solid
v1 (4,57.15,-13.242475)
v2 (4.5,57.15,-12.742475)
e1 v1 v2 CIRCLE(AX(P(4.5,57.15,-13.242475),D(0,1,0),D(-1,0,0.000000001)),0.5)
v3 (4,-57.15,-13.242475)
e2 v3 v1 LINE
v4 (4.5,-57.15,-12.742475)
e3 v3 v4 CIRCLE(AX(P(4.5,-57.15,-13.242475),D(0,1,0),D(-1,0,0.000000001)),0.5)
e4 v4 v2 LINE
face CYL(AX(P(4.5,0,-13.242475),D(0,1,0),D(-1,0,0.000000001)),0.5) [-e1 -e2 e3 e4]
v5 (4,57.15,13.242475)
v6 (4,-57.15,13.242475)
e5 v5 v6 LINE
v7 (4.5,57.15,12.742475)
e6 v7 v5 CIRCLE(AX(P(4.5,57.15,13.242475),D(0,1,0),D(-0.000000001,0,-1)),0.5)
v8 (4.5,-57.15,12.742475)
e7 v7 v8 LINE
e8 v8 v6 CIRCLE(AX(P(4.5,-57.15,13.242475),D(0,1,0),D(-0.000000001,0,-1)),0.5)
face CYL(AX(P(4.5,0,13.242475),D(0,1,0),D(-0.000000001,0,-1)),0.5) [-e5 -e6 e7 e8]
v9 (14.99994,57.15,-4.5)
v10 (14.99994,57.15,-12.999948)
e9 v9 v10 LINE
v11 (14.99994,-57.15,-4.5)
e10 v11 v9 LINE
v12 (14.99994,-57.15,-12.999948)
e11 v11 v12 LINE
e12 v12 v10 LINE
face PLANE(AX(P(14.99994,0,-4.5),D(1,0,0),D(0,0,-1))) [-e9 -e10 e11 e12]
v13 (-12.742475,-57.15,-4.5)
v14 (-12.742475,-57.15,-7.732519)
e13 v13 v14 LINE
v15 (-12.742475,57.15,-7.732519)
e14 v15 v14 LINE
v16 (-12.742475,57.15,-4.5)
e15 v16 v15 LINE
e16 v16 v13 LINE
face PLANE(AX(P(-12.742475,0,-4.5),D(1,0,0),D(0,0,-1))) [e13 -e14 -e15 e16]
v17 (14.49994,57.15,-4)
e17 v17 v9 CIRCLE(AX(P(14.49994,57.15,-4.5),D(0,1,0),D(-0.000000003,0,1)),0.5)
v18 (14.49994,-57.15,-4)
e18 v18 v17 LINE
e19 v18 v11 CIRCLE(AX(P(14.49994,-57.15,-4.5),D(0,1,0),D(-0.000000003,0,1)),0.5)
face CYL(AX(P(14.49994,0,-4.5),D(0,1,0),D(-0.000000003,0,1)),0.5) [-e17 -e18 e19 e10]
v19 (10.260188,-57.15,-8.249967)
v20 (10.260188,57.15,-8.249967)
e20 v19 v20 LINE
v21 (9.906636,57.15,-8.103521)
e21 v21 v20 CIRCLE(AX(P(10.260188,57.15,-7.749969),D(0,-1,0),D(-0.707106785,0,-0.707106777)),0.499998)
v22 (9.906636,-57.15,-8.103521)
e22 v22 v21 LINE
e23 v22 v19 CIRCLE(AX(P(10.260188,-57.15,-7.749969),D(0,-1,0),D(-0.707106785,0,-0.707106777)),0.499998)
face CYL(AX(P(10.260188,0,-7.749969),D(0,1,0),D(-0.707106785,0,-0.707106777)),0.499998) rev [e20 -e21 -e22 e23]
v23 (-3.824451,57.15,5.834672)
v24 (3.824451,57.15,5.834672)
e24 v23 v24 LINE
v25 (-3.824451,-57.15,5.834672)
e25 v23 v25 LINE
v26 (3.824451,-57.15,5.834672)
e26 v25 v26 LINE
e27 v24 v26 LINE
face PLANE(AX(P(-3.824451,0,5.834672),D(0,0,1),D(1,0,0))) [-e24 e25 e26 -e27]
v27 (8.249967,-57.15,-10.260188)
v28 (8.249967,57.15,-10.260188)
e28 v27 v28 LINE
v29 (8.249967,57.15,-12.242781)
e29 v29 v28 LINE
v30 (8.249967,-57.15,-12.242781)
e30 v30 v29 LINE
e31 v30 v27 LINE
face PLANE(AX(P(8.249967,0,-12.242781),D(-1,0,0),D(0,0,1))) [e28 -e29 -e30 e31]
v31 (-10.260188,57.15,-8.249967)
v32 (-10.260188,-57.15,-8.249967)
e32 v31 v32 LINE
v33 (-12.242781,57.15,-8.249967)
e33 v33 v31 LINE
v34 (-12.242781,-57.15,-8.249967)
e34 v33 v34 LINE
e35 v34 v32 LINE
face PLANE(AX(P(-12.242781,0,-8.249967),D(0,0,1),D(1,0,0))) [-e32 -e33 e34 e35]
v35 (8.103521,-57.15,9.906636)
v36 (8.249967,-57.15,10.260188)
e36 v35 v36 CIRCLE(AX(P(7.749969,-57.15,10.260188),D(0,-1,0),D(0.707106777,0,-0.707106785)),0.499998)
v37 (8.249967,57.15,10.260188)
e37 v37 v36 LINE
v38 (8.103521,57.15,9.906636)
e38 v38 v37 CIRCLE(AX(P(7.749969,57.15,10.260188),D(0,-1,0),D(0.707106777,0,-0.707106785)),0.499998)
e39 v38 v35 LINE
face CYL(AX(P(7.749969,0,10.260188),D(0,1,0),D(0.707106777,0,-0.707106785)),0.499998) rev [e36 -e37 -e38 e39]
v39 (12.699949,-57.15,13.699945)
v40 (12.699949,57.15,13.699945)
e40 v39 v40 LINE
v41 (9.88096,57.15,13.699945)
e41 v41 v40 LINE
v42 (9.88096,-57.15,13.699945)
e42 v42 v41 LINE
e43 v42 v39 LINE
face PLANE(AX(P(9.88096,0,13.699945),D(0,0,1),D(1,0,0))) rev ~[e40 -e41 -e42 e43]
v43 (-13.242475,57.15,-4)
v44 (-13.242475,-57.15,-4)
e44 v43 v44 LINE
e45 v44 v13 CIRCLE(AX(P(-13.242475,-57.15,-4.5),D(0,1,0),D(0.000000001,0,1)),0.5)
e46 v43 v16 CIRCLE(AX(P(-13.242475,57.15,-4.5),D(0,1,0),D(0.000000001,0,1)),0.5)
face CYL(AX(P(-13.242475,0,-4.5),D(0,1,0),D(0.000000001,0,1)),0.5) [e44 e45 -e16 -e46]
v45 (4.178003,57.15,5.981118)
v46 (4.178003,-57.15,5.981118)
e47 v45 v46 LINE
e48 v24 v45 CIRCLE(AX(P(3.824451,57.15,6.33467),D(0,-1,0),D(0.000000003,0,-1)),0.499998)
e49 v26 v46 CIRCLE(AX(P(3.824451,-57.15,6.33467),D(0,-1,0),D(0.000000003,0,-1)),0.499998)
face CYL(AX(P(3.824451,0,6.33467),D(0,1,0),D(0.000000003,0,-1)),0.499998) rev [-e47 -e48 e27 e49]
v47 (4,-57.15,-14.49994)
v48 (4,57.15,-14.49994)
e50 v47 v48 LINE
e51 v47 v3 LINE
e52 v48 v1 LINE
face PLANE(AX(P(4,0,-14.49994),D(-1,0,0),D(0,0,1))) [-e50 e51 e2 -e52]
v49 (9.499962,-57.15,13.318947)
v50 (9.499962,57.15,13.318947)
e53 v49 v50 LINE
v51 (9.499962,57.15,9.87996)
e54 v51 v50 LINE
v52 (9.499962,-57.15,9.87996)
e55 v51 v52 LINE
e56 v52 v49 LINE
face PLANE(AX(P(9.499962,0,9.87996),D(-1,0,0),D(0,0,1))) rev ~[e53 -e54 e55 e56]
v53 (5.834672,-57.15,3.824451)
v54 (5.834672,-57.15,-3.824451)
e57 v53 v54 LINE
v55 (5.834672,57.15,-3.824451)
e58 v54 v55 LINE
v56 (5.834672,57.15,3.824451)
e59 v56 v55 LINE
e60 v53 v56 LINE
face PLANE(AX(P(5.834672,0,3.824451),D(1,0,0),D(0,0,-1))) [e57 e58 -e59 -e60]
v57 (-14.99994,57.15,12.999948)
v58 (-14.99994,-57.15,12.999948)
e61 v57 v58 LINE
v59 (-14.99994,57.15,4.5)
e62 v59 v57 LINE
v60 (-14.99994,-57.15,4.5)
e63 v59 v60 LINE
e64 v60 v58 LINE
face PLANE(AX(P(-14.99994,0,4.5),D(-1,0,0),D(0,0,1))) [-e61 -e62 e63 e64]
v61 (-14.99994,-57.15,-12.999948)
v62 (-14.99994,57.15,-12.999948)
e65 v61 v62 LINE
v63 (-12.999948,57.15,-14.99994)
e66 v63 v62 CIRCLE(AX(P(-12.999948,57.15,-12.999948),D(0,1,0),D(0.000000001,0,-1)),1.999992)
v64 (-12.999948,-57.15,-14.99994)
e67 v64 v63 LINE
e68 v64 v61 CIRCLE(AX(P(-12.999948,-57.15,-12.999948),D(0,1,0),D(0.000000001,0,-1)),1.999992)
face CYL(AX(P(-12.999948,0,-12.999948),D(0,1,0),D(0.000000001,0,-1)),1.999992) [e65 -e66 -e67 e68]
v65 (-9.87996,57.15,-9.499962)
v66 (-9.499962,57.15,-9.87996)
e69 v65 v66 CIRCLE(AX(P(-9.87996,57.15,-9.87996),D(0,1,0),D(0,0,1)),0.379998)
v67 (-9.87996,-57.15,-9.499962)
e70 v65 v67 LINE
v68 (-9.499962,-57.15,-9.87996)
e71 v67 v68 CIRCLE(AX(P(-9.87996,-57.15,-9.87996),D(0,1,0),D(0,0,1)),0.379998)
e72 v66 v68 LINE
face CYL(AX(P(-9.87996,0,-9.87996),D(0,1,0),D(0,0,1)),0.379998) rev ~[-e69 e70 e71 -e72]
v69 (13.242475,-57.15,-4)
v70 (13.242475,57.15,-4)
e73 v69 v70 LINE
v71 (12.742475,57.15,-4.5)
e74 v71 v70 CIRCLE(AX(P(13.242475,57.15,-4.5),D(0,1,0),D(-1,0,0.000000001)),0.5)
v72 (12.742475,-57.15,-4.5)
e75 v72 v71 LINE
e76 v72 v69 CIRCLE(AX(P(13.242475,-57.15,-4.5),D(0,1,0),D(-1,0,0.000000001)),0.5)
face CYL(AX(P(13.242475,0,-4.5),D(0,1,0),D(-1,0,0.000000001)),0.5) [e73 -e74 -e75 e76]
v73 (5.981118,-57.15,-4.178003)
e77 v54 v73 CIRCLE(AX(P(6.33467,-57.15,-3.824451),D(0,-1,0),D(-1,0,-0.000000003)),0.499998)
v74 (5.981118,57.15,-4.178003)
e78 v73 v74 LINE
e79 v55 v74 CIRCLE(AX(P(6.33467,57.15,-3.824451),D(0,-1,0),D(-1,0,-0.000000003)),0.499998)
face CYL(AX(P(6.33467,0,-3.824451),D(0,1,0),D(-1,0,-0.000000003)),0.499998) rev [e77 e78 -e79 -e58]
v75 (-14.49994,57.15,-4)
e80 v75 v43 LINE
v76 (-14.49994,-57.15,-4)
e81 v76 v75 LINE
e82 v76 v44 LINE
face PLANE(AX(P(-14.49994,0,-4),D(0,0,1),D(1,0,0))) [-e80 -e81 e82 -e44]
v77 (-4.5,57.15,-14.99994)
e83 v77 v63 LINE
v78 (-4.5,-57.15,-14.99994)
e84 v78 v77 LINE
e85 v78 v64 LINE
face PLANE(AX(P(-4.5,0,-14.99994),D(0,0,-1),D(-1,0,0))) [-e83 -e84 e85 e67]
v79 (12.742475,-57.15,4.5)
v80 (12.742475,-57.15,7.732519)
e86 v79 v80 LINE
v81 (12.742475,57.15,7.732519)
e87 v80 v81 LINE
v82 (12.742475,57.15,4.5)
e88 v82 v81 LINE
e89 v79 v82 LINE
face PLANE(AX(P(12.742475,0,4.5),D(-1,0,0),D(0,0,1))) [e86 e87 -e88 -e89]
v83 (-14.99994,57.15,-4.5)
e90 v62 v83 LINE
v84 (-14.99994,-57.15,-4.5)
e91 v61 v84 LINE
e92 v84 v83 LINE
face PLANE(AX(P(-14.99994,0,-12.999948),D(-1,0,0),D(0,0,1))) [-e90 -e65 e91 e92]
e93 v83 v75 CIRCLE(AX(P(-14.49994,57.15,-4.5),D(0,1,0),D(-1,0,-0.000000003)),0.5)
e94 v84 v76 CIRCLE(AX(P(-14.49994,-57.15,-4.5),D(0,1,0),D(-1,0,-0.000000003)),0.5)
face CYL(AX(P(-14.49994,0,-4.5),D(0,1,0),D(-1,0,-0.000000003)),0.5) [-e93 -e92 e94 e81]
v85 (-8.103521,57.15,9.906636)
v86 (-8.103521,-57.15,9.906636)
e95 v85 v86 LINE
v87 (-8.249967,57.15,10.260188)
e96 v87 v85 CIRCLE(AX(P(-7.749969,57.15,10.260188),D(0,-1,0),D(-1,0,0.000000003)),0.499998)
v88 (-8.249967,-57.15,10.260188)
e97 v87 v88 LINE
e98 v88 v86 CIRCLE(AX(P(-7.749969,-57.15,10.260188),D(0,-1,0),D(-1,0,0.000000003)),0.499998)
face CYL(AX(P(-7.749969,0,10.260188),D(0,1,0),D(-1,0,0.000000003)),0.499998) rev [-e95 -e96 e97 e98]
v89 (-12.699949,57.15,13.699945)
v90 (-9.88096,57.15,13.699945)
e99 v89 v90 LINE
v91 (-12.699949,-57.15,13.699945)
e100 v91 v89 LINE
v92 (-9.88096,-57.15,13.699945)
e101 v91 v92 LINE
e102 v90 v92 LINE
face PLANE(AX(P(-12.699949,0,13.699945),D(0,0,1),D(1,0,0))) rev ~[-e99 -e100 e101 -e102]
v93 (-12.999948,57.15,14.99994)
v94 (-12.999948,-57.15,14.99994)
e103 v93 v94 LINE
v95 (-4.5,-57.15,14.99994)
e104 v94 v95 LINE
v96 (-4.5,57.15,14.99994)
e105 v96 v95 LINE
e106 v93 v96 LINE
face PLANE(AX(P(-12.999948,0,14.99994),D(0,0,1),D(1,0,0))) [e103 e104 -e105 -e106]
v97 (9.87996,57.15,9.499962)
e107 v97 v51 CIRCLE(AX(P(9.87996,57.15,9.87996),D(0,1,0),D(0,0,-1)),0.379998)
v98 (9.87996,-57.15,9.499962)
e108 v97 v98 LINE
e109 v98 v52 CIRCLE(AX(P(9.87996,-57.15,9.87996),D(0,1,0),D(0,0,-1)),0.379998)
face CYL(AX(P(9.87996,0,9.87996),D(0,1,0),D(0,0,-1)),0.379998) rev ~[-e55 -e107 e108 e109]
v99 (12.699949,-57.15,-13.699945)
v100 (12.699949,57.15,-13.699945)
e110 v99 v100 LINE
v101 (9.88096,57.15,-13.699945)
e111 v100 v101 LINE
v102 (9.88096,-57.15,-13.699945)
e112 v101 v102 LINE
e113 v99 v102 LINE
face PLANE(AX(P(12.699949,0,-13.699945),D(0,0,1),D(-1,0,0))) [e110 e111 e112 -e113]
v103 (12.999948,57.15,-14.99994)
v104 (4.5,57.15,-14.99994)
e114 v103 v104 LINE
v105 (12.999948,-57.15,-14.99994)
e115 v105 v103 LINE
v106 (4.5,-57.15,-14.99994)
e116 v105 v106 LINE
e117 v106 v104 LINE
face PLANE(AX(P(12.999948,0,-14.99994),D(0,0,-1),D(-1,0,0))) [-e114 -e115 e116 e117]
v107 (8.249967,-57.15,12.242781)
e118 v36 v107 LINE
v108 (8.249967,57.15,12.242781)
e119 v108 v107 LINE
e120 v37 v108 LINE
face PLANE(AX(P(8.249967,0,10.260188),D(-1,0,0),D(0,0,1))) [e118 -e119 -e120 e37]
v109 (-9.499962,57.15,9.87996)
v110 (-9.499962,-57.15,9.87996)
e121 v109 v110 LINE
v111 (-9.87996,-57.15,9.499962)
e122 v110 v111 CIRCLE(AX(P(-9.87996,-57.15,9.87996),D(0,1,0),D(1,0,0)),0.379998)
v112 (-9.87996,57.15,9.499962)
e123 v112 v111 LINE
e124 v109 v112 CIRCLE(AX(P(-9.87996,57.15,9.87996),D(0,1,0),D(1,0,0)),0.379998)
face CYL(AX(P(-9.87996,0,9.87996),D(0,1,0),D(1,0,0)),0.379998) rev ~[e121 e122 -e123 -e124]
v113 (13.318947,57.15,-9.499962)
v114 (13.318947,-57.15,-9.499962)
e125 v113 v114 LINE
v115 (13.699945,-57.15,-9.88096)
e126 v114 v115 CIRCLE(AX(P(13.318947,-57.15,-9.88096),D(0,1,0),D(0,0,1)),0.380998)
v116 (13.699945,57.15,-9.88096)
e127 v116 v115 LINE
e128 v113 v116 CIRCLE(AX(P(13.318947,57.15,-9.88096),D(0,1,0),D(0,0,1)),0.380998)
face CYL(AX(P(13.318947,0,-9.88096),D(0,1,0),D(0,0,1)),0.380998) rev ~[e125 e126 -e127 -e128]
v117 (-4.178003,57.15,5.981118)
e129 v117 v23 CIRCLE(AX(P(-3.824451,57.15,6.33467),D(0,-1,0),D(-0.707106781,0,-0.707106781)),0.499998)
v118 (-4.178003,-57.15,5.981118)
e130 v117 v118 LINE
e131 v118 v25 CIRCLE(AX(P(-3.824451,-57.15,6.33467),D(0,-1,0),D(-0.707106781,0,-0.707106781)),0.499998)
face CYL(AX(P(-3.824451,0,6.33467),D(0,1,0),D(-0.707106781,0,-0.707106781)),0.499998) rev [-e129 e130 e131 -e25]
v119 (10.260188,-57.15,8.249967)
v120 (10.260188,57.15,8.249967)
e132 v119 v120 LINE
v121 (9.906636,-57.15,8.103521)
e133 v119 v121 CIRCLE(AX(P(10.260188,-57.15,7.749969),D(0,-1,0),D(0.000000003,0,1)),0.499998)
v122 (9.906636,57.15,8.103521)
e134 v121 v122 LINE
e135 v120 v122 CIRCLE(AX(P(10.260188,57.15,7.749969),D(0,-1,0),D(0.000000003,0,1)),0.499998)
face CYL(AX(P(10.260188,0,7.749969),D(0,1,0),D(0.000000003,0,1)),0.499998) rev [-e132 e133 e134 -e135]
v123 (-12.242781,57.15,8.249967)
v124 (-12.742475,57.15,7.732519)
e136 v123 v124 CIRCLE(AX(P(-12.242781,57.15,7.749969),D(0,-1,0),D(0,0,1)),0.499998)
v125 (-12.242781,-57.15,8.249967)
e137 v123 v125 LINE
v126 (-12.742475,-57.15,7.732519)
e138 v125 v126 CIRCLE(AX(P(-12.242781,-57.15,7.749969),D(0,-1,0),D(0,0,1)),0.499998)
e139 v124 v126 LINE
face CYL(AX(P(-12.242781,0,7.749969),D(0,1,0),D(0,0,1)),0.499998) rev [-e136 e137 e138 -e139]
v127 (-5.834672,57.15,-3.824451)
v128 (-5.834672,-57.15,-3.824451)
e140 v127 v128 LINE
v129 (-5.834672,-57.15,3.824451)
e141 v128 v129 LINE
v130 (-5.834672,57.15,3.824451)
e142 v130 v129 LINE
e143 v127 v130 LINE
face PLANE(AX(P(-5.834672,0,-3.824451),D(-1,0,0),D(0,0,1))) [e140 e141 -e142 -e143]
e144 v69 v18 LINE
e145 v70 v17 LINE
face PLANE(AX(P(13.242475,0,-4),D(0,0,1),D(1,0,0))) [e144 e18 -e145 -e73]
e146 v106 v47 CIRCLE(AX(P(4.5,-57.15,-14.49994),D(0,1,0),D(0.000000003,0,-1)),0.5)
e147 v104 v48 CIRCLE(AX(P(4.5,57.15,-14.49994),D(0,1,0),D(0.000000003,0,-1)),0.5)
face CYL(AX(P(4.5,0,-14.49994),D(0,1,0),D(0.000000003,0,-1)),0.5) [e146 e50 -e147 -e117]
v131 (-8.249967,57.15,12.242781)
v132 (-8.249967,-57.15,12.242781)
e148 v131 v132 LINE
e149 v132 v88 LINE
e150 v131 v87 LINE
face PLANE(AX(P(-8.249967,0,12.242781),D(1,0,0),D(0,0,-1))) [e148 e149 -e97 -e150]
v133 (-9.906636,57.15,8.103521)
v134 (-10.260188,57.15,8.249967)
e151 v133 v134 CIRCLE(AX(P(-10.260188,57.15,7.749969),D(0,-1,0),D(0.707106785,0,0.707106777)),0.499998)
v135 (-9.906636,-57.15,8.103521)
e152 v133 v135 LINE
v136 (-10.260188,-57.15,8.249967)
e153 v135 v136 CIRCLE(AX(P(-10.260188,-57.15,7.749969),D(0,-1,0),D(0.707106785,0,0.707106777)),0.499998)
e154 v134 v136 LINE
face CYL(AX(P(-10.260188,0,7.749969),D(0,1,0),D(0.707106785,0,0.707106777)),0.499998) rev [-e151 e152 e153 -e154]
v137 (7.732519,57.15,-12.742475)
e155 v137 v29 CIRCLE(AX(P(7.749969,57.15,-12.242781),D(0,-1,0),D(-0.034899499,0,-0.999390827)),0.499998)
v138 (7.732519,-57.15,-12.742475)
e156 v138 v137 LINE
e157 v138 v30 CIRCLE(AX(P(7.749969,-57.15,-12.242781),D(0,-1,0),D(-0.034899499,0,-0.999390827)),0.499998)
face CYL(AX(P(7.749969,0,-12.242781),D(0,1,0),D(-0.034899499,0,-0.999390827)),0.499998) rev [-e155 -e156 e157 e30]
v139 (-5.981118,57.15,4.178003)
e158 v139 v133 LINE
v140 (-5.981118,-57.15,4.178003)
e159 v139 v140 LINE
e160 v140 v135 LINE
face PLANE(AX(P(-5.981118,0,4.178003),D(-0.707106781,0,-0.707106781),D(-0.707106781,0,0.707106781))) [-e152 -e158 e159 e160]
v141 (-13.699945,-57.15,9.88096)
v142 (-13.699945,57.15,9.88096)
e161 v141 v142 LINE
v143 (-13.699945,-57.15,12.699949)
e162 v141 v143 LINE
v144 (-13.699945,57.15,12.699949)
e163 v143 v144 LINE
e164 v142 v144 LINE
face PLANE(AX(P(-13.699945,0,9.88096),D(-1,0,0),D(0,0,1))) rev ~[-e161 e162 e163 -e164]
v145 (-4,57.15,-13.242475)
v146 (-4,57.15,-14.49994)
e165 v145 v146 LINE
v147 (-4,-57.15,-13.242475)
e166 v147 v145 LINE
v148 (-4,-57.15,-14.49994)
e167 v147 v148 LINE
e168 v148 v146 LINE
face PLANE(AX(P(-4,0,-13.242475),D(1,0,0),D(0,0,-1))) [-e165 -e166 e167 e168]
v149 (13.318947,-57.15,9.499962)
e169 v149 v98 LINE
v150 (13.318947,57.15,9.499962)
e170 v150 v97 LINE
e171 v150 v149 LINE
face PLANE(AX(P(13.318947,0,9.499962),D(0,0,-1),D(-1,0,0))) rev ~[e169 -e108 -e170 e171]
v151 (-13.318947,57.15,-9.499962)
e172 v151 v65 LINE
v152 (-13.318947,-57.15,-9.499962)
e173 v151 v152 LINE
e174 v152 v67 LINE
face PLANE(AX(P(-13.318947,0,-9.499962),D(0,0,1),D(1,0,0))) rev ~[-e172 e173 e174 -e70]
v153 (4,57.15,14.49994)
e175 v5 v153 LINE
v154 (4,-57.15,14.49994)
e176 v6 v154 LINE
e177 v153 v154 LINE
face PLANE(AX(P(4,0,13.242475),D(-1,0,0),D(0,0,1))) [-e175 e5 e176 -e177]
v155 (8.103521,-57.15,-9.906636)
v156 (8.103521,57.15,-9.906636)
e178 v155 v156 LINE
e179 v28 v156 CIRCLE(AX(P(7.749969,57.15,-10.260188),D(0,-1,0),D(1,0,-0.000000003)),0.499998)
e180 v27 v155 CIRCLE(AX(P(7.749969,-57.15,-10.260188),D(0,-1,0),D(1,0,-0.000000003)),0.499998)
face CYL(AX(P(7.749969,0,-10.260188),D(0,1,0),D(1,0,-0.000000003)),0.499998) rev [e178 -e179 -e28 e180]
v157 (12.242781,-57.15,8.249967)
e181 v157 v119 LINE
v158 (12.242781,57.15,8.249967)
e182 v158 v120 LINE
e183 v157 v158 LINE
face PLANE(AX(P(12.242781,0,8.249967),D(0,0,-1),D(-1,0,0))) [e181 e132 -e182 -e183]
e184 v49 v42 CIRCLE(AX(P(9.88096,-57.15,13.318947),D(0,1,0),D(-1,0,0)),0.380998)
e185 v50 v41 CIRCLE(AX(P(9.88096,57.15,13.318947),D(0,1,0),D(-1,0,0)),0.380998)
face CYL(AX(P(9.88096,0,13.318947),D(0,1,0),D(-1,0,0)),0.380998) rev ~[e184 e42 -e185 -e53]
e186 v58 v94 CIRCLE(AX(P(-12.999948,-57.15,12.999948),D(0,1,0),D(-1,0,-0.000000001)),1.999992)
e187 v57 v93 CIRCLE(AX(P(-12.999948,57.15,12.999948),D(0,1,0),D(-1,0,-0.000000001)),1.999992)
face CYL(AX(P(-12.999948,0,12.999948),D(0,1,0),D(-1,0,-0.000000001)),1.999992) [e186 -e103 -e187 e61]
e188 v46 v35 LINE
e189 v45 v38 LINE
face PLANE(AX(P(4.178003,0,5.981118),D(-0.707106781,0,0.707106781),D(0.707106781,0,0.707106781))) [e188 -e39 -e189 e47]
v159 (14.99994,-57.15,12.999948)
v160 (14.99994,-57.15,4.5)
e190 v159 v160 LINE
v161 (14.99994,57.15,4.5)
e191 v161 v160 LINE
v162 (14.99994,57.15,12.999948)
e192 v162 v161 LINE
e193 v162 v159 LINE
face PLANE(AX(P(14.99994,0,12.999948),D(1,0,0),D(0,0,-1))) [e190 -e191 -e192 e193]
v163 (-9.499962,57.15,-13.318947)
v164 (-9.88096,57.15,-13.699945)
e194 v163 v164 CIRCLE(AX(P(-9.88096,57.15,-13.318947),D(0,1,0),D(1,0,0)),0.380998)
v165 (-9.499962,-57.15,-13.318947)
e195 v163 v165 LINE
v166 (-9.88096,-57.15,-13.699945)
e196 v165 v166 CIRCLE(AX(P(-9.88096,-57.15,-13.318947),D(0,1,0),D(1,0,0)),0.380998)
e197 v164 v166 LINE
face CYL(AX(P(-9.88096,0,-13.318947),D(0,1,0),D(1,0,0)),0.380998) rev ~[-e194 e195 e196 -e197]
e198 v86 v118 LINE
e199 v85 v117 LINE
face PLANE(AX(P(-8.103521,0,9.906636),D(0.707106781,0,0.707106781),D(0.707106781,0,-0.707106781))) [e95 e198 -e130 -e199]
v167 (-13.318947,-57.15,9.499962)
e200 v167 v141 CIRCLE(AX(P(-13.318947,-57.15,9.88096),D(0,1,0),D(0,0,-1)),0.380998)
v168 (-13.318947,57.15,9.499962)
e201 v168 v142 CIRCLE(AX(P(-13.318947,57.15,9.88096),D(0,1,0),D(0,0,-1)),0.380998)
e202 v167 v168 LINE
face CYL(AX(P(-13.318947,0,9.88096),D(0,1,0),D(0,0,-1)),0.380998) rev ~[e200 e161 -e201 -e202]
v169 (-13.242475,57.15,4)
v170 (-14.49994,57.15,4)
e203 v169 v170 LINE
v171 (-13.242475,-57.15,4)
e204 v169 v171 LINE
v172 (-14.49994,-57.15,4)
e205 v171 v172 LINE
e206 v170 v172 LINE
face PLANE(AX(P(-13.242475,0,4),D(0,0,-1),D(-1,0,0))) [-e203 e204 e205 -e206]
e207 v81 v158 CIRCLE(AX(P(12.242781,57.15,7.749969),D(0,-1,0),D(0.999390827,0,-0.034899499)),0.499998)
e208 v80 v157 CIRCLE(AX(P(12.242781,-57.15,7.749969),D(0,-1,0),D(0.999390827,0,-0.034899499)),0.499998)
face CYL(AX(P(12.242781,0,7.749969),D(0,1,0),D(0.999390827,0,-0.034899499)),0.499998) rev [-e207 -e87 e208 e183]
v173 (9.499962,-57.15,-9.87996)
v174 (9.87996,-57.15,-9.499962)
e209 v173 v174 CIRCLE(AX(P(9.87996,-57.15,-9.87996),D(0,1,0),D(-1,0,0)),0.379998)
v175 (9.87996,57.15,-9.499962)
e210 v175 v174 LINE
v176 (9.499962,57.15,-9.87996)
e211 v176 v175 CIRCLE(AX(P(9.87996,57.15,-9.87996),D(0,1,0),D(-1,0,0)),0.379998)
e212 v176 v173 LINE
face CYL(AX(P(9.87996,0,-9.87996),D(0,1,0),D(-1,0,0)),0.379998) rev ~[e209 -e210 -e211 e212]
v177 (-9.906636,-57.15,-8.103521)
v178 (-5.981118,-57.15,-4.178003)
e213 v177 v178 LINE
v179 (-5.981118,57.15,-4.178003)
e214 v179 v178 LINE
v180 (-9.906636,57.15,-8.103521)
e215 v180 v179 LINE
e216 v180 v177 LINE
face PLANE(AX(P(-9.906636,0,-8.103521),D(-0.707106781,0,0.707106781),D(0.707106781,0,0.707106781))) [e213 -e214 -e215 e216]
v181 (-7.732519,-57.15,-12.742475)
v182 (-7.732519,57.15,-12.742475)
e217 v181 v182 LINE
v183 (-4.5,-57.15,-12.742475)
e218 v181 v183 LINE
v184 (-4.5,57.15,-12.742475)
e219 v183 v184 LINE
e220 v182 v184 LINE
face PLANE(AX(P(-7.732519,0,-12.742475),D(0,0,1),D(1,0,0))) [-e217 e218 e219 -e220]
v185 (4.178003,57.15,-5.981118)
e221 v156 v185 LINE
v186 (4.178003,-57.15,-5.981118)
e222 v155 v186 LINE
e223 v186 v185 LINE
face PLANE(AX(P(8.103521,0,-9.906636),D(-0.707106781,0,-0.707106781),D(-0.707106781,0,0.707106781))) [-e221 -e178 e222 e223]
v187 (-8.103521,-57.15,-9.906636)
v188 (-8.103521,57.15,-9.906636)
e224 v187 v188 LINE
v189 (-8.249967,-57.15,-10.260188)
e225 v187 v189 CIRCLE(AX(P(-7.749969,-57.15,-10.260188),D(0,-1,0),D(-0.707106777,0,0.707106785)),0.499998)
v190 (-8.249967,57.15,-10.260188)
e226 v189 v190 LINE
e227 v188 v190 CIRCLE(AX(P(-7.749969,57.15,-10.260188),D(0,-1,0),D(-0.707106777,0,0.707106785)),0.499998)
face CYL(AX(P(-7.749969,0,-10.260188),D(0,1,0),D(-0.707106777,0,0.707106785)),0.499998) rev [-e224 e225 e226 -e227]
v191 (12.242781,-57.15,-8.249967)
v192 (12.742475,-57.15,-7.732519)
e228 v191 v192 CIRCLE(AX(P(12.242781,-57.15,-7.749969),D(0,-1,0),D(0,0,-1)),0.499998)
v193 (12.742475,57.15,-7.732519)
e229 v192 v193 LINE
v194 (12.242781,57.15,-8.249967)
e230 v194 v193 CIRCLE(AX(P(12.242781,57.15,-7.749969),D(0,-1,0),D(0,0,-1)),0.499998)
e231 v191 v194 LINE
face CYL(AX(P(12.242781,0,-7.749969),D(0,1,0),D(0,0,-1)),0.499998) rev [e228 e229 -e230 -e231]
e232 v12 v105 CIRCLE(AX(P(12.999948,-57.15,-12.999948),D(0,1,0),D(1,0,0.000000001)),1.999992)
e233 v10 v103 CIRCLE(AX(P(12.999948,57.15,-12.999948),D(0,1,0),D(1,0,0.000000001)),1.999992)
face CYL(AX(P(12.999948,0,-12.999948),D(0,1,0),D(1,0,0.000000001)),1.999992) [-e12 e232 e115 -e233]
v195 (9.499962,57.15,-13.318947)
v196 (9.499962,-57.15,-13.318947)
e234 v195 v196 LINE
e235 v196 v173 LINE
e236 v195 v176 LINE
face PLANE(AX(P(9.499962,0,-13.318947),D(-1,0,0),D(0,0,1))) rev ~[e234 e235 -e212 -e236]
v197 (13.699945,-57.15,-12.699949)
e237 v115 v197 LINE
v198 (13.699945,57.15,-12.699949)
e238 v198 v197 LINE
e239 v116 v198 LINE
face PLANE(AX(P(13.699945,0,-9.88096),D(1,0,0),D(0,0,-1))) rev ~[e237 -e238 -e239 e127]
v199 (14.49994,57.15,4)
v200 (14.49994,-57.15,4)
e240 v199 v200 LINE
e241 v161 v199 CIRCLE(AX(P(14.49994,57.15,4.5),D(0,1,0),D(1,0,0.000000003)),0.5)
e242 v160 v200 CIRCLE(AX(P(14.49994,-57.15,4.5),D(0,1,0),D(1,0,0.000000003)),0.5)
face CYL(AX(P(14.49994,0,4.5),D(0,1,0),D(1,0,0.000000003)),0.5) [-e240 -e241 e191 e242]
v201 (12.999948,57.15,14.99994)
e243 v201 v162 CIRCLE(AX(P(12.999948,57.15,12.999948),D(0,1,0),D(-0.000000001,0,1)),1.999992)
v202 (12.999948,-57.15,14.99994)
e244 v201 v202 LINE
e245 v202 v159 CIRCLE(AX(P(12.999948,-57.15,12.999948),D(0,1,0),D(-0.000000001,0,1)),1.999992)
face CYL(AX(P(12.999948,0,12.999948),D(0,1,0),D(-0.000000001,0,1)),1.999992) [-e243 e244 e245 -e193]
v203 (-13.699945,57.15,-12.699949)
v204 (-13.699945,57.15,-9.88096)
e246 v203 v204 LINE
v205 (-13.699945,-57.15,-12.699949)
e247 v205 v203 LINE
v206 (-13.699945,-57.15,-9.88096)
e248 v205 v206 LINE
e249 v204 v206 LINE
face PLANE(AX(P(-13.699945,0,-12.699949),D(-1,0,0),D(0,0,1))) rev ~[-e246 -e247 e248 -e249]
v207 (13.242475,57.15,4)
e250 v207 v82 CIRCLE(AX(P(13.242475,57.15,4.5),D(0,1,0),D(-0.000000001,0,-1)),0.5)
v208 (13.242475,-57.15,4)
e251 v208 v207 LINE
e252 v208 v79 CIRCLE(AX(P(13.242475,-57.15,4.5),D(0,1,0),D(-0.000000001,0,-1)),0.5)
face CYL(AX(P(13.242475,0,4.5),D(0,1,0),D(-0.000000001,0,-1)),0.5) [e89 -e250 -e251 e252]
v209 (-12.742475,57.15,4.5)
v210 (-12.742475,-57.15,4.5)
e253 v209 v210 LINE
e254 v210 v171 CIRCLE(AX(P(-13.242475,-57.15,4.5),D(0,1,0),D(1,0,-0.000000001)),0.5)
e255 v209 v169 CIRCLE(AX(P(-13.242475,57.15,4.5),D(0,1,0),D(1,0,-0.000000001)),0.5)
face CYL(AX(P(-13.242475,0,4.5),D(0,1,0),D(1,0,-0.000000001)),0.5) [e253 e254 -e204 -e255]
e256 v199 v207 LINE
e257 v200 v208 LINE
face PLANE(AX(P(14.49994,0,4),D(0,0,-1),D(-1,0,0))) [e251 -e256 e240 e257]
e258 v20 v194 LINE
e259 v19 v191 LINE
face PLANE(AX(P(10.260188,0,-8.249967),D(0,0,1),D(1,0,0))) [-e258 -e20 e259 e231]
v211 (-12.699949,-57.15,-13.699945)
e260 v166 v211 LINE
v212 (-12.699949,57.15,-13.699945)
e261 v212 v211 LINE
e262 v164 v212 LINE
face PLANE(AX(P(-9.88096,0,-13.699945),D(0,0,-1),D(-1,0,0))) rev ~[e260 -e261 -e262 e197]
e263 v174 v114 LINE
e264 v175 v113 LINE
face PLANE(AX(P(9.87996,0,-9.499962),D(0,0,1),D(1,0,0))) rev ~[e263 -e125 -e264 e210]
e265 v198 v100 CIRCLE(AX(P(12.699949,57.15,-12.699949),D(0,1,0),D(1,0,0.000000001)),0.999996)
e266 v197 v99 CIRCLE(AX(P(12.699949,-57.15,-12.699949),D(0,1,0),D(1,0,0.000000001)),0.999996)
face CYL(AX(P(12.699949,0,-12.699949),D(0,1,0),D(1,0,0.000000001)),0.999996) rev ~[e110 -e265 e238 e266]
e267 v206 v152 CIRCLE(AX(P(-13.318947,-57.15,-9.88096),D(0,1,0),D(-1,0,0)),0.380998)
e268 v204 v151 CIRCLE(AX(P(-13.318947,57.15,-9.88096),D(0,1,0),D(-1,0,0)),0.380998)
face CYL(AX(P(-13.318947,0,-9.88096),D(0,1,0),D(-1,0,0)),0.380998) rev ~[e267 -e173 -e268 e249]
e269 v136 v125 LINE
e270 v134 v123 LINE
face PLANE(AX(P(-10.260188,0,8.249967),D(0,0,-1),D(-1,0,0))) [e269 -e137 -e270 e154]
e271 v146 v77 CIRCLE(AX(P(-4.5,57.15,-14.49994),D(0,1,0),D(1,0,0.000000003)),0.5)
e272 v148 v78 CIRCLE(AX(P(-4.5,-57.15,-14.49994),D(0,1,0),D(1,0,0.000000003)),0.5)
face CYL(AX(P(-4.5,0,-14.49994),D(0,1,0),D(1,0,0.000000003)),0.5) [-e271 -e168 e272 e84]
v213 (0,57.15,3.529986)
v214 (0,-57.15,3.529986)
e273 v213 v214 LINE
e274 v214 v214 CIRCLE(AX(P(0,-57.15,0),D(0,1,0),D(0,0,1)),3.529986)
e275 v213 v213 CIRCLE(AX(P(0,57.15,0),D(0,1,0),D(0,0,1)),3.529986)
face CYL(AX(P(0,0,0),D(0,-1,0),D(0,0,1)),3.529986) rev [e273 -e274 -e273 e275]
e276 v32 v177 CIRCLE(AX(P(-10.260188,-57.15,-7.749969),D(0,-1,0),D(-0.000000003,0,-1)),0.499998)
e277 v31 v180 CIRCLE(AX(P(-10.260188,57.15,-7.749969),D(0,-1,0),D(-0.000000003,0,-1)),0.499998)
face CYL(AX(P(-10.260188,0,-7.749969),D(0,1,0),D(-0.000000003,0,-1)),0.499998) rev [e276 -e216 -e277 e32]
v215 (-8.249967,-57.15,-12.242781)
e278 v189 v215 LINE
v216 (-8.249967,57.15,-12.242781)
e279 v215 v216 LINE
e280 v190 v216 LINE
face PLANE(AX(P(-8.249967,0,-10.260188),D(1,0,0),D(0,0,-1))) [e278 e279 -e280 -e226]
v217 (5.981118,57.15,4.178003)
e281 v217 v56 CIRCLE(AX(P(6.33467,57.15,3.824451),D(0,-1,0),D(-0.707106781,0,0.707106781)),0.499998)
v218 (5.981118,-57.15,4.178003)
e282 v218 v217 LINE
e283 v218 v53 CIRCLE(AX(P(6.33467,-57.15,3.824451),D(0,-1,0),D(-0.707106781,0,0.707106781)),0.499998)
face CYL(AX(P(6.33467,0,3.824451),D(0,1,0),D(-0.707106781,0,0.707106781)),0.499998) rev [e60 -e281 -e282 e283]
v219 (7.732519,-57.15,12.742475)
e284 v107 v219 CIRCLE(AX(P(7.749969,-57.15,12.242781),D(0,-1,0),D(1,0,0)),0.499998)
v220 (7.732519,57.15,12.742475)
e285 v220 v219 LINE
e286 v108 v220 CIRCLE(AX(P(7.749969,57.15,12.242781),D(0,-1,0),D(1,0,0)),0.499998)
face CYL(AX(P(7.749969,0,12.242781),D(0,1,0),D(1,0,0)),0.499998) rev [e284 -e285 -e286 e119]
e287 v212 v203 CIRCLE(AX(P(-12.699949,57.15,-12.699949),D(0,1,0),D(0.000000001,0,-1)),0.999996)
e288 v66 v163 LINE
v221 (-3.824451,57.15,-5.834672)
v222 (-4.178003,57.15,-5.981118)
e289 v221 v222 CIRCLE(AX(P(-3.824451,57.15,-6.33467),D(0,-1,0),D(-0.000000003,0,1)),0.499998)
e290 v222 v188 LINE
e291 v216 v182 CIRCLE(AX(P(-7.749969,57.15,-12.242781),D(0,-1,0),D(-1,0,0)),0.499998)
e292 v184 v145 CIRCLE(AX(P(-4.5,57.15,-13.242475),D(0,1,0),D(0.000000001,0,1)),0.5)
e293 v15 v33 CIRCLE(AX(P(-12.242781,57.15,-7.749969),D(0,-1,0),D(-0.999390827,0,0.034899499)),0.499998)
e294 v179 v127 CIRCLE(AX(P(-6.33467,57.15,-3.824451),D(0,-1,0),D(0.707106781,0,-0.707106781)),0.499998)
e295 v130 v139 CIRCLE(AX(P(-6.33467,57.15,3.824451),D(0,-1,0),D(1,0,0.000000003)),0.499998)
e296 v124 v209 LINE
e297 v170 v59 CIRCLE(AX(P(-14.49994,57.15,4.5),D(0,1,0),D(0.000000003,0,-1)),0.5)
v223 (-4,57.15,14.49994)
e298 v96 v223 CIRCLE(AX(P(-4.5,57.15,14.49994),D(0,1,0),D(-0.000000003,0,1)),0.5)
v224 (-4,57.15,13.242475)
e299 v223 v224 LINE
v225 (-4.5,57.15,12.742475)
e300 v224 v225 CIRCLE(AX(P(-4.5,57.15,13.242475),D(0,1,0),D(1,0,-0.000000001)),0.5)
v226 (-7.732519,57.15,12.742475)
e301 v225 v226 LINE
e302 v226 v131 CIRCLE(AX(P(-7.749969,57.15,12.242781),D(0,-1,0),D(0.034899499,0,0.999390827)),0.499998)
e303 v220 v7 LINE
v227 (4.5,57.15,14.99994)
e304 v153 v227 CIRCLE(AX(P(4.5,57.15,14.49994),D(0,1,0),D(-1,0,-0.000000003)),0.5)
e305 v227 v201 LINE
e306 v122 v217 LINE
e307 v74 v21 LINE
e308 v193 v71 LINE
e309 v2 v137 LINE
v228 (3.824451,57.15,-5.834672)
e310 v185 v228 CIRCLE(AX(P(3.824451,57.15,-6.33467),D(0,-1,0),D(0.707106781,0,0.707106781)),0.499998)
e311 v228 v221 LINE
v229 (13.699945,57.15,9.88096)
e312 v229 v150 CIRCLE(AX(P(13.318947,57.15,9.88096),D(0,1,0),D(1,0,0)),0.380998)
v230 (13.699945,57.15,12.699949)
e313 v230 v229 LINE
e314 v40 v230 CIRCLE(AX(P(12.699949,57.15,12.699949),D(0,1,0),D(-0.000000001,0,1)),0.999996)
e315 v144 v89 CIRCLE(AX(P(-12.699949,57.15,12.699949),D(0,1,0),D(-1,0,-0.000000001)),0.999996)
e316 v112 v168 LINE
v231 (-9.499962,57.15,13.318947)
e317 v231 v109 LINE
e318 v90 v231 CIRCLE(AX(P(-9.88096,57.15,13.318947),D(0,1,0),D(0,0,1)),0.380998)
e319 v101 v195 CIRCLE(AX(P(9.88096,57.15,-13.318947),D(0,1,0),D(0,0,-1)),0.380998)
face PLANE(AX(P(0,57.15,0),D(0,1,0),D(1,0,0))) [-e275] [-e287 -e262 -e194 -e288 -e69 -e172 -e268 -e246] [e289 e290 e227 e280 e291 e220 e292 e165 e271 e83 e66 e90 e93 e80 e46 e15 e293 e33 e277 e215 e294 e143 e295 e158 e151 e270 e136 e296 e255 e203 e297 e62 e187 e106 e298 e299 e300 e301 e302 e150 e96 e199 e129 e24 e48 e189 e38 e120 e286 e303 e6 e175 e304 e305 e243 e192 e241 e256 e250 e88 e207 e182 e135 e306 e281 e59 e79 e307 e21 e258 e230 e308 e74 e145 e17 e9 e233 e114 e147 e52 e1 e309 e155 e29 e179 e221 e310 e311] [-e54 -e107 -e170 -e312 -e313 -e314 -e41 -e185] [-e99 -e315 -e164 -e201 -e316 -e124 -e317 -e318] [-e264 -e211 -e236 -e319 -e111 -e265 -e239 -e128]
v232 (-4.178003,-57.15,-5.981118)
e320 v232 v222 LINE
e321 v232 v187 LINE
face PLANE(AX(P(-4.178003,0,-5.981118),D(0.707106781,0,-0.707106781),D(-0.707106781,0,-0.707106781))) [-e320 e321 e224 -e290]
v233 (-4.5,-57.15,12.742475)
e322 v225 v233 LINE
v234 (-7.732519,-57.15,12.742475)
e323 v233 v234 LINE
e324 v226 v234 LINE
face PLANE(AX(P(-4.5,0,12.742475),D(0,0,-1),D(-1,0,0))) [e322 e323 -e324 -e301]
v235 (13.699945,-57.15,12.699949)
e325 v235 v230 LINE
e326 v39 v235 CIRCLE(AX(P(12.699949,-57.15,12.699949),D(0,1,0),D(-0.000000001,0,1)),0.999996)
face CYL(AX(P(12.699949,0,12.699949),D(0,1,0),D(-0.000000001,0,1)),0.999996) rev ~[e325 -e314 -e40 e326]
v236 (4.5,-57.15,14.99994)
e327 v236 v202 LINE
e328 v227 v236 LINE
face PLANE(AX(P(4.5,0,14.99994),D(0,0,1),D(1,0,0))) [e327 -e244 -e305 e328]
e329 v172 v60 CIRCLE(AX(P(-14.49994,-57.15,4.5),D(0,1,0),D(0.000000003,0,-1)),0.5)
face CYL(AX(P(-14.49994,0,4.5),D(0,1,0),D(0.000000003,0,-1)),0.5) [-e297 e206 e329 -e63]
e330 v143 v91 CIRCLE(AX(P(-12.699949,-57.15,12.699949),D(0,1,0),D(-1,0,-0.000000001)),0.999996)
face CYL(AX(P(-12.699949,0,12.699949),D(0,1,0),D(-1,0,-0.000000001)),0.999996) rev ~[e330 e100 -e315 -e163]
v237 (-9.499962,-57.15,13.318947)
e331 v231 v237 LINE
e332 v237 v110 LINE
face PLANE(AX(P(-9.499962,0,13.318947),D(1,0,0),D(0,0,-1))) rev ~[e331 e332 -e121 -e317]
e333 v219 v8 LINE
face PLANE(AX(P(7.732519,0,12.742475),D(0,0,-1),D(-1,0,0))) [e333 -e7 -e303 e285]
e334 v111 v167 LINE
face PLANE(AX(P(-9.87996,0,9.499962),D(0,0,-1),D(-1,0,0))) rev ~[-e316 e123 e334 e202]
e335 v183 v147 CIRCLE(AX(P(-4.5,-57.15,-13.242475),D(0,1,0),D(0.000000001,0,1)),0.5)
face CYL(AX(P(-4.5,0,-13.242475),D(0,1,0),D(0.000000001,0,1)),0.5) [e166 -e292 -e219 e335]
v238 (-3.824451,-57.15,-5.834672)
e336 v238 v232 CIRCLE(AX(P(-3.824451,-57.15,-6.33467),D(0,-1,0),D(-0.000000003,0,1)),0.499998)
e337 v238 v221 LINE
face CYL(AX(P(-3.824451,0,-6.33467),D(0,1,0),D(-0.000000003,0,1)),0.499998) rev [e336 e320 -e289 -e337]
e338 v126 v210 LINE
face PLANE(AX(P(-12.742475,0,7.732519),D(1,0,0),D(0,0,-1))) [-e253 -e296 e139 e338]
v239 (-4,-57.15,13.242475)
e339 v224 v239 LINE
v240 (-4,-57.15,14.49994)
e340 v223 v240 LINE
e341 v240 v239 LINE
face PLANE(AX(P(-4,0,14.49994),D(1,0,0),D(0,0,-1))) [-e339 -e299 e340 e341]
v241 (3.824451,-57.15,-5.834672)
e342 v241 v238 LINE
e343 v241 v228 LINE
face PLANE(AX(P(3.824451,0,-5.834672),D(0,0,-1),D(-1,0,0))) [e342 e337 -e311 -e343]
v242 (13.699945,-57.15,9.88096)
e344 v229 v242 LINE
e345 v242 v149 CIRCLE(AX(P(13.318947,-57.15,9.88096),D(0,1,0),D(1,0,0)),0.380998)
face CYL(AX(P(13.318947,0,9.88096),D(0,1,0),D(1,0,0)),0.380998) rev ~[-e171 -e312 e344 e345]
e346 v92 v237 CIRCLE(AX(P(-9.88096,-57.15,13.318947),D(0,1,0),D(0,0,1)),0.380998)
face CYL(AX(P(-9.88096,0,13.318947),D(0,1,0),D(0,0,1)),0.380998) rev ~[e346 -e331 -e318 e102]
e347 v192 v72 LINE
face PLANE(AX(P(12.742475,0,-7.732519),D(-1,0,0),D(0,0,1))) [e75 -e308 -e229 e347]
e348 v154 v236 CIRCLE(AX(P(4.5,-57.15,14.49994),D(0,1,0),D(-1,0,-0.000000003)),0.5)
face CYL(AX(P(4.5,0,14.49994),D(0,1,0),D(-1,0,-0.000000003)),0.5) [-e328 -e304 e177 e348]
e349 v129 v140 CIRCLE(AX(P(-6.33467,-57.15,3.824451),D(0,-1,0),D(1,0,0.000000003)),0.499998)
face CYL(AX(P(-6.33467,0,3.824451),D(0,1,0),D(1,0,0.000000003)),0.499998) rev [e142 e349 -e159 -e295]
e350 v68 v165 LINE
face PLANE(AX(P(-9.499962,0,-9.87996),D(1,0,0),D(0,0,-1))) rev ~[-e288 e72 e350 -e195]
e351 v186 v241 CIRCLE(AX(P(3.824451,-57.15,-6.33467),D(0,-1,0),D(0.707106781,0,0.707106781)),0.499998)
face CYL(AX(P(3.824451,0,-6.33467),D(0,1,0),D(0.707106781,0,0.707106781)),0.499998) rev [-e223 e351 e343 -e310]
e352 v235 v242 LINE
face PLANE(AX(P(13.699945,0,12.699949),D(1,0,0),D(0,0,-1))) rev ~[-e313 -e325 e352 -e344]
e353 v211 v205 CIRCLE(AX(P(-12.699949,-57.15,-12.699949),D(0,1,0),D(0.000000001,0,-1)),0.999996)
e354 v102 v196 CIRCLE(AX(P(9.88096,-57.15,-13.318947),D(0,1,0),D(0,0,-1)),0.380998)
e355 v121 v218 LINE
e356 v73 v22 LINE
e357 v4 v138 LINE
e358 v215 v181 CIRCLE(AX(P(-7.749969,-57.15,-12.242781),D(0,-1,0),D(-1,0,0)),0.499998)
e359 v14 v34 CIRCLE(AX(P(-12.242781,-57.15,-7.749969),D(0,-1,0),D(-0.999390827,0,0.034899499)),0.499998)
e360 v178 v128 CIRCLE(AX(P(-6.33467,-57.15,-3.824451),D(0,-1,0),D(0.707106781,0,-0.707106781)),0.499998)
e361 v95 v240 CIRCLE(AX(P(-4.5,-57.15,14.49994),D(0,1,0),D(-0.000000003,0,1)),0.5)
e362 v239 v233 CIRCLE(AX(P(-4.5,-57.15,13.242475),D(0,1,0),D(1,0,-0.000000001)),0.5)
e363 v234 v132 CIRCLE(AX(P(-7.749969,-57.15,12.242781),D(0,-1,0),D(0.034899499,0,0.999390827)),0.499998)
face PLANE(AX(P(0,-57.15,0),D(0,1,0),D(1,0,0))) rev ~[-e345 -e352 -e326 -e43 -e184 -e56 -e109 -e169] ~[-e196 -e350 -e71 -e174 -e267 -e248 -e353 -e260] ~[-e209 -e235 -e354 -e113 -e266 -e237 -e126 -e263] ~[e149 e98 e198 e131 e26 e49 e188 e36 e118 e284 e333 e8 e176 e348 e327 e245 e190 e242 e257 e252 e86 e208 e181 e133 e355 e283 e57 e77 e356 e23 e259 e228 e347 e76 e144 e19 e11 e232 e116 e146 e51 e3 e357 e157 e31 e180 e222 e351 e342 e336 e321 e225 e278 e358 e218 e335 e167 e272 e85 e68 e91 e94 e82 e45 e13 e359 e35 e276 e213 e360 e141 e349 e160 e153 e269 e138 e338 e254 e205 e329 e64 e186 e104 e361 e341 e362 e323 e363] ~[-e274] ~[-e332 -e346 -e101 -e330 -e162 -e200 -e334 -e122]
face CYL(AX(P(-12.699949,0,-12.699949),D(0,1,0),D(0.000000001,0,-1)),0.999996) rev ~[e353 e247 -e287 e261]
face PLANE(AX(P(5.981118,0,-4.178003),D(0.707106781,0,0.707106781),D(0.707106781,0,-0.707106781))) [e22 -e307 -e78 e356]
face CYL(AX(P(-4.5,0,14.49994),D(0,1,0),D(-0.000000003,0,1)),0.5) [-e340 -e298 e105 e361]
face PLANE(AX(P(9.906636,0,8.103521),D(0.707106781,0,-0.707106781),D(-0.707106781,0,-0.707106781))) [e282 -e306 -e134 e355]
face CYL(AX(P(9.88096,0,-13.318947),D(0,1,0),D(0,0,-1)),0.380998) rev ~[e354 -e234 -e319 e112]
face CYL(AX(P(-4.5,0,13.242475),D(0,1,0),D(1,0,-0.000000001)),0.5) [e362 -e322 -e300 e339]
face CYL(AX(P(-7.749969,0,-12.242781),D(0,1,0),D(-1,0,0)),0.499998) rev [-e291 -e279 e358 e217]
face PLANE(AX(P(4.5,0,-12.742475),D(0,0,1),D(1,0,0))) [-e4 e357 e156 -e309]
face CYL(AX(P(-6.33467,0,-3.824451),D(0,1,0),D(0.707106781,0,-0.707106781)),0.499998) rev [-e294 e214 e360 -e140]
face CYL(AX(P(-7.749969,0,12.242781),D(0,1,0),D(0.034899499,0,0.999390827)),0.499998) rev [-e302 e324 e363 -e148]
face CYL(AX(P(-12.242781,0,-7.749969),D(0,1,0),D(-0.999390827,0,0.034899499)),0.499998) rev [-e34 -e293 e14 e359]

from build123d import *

# Parameters (mm, degrees)
SKETCH1_R           = 3.52998588
BOSS_EXTRUDE1_DEPTH = 57.15


with BuildPart() as part:
    # Sketch1 → Boss-Extrude1 (new, symmetric)
    with BuildSketch(Plane(origin=(0, 0, 0), x_dir=(1, 0, 0), z_dir=(0, 1, 0))):
        with BuildLine():
            Line((14.49994, -4), (13.24247465, -4))
            ThreePointArc((13.24247465, -4), (12.88892126, -4.146446609), (12.74247465, -4.5))
            Line((12.74247465, -4.5), (12.74247465, -7.732519321))
            ThreePointArc((12.74247465, -7.732519321), (12.602449697, -8.097296796), (12.242781236, -8.249967))
            Line((12.242781236, -8.249967), (10.260188032, -8.249967))
            ThreePointArc((10.260188032, -8.249967), (10.068847082, -8.211906919), (9.906636056, -8.103520976))
            Line((9.906636056, -8.103520976), (5.981117769, -4.178002689))
            ThreePointArc((5.981117769, -4.178002689), (5.872731827, -4.015791664), (5.834671745, -3.824450713))
            Line((5.834671745, -3.824450713), (5.834671745, -1.01249595))
            Line((5.834671745, -1.01249595), (5.834671745, 0.88749645))
            Line((5.834671745, 0.88749645), (5.834671745, 3.824450713))
            ThreePointArc((5.834671745, 3.824450713), (5.872731827, 4.015791664), (5.981117769, 4.178002689))
            Line((5.981117769, 4.178002689), (9.906636056, 8.103520976))
            ThreePointArc((9.906636056, 8.103520976), (10.068847082, 8.211906919), (10.260188032, 8.249967))
            Line((10.260188032, 8.249967), (12.242781236, 8.249967))
            ThreePointArc((12.242781236, 8.249967), (12.602449697, 8.097296796), (12.74247465, 7.732519321))
            Line((12.74247465, 7.732519321), (12.74247465, 4.5))
            ThreePointArc((12.74247465, 4.5), (12.88892126, 4.146446609), (13.24247465, 4))
            Line((13.24247465, 4), (14.49994, 4))
            ThreePointArc((14.49994, 4), (14.853493391, 4.146446609), (14.99994, 4.5))
            Line((14.99994, 4.5), (14.99994, 12.999948))
            ThreePointArc((14.99994, 12.999948), (14.414155906, 14.414155906), (12.999948, 14.99994))
            Line((12.999948, 14.99994), (4.5, 14.99994))
            ThreePointArc((4.5, 14.99994), (4.146446609, 14.853493391), (4, 14.49994))
            Line((4, 14.49994), (4, 13.24247465))
            ThreePointArc((4, 13.24247465), (4.146446609, 12.88892126), (4.5, 12.74247465))
            Line((4.5, 12.74247465), (7.732519321, 12.74247465))
            ThreePointArc((7.732519321, 12.74247465), (8.097296796, 12.602449697), (8.249967, 12.242781236))
            Line((8.249967, 12.242781236), (8.249967, 10.260188032))
            ThreePointArc((8.249967, 10.260188032), (8.211906919, 10.068847082), (8.103520976, 9.906636056))
            Line((8.103520976, 9.906636056), (4.178002689, 5.981117769))
            ThreePointArc((4.178002689, 5.981117769), (4.015791664, 5.872731827), (3.824450713, 5.834671745))
            Line((3.824450713, 5.834671745), (0.9499962, 5.834671745))
            Line((0.9499962, 5.834671745), (-0.9499962, 5.834671745))
            Line((-0.9499962, 5.834671745), (-3.824450713, 5.834671745))
            ThreePointArc((-3.824450713, 5.834671745), (-4.015791664, 5.872731827), (-4.178002689, 5.981117769))
            Line((-4.178002689, 5.981117769), (-8.103520976, 9.906636056))
            ThreePointArc((-8.103520976, 9.906636056), (-8.211906919, 10.068847082), (-8.249967, 10.260188032))
            Line((-8.249967, 10.260188032), (-8.249967, 12.242781236))
            ThreePointArc((-8.249967, 12.242781236), (-8.097296796, 12.602449697), (-7.732519321, 12.74247465))
            Line((-7.732519321, 12.74247465), (-4.5, 12.74247465))
            ThreePointArc((-4.5, 12.74247465), (-4.146446609, 12.88892126), (-4, 13.24247465))
            Line((-4, 13.24247465), (-4, 14.49994))
            ThreePointArc((-4, 14.49994), (-4.146446609, 14.853493391), (-4.5, 14.99994))
            Line((-4.5, 14.99994), (-12.999948, 14.99994))
            ThreePointArc((-12.999948, 14.99994), (-14.414155906, 14.414155906), (-14.99994, 12.999948))
            Line((-14.99994, 12.999948), (-14.99994, 4.5))
            ThreePointArc((-14.99994, 4.5), (-14.853493391, 4.146446609), (-14.49994, 4))
            Line((-14.49994, 4), (-13.24247465, 4))
            ThreePointArc((-13.24247465, 4), (-12.88892126, 4.146446609), (-12.74247465, 4.5))
            Line((-12.74247465, 4.5), (-12.74247465, 7.732519321))
            ThreePointArc((-12.74247465, 7.732519321), (-12.602449697, 8.097296796), (-12.242781236, 8.249967))
            Line((-12.242781236, 8.249967), (-10.260188032, 8.249967))
            ThreePointArc((-10.260188032, 8.249967), (-10.068847082, 8.211906919), (-9.906636056, 8.103520976))
            Line((-9.906636056, 8.103520976), (-5.981117769, 4.178002689))
            ThreePointArc((-5.981117769, 4.178002689), (-5.872731827, 4.015791664), (-5.834671745, 3.824450713))
            Line((-5.834671745, 3.824450713), (-5.834671745, 0.88749645))
            Line((-5.834671745, 0.88749645), (-5.834671745, -1.01249595))
            Line((-5.834671745, -1.01249595), (-5.834671745, -3.824450713))
            ThreePointArc((-5.834671745, -3.824450713), (-5.872731827, -4.015791664), (-5.981117769, -4.178002689))
            Line((-5.981117769, -4.178002689), (-9.906636056, -8.103520976))
            ThreePointArc((-9.906636056, -8.103520976), (-10.068847082, -8.211906919), (-10.260188032, -8.249967))
            Line((-10.260188032, -8.249967), (-12.242781236, -8.249967))
            ThreePointArc((-12.242781236, -8.249967), (-12.602449697, -8.097296796), (-12.74247465, -7.732519321))
            Line((-12.74247465, -7.732519321), (-12.74247465, -4.5))
            ThreePointArc((-12.74247465, -4.5), (-12.88892126, -4.146446609), (-13.24247465, -4))
            Line((-13.24247465, -4), (-14.49994, -4))
            ThreePointArc((-14.49994, -4), (-14.853493391, -4.146446609), (-14.99994, -4.5))
            Line((-14.99994, -4.5), (-14.99994, -12.999948))
            ThreePointArc((-14.99994, -12.999948), (-14.414155906, -14.414155906), (-12.999948, -14.99994))
            Line((-12.999948, -14.99994), (-4.5, -14.99994))
            ThreePointArc((-4.5, -14.99994), (-4.146446609, -14.853493391), (-4, -14.49994))
            Line((-4, -14.49994), (-4, -13.24247465))
            ThreePointArc((-4, -13.24247465), (-4.146446609, -12.88892126), (-4.5, -12.74247465))
            Line((-4.5, -12.74247465), (-7.732519321, -12.74247465))
            ThreePointArc((-7.732519321, -12.74247465), (-8.097296796, -12.602449697), (-8.249967, -12.242781236))
            Line((-8.249967, -12.242781236), (-8.249967, -10.260188032))
            ThreePointArc((-8.249967, -10.260188032), (-8.211906919, -10.068847082), (-8.103520976, -9.906636056))
            Line((-8.103520976, -9.906636056), (-4.178002689, -5.981117769))
            ThreePointArc((-4.178002689, -5.981117769), (-4.015791664, -5.872731827), (-3.824450713, -5.834671745))
            Line((-3.824450713, -5.834671745), (-0.9499962, -5.834671745))
            Line((-0.9499962, -5.834671745), (0.9499962, -5.834671745))
            Line((0.9499962, -5.834671745), (3.824450713, -5.834671745))
            ThreePointArc((3.824450713, -5.834671745), (4.015791664, -5.872731827), (4.178002689, -5.981117769))
            Line((4.178002689, -5.981117769), (8.103520976, -9.906636056))
            ThreePointArc((8.103520976, -9.906636056), (8.211906919, -10.068847082), (8.249967, -10.260188032))
            Line((8.249967, -10.260188032), (8.249967, -12.242781236))
            ThreePointArc((8.249967, -12.242781236), (8.097296796, -12.602449697), (7.732519321, -12.74247465))
            Line((7.732519321, -12.74247465), (4.5, -12.74247465))
            ThreePointArc((4.5, -12.74247465), (4.146446609, -12.88892126), (4, -13.24247465))
            Line((4, -13.24247465), (4, -14.49994))
            ThreePointArc((4, -14.49994), (4.146446609, -14.853493391), (4.5, -14.99994))
            Line((4.5, -14.99994), (12.999948, -14.99994))
            ThreePointArc((12.999948, -14.99994), (14.414155906, -14.414155906), (14.99994, -12.999948))
            Line((14.99994, -12.999948), (14.99994, -4.5))
            ThreePointArc((14.99994, -4.5), (14.853493391, -4.146446609), (14.49994, -4))
        make_face()
        with Locations(Location((0, 0, 0), (0, 0, 270))):
            Circle(SKETCH1_R, mode=Mode.SUBTRACT)
        with BuildLine():
            Line((-12.6999492, -13.6999452), (-9.880960476, -13.6999452))
            ThreePointArc((-9.880960476, -13.6999452), (-9.61155387, -13.58835333), (-9.499962, -13.318946724))
            Line((-9.499962, -13.318946724), (-9.499962, -9.87996048))
            ThreePointArc((-9.499962, -9.87996048), (-9.611260978, -9.611260978), (-9.87996048, -9.499962))
            Line((-9.87996048, -9.499962), (-13.318946724, -9.499962))
            ThreePointArc((-13.318946724, -9.499962), (-13.58835333, -9.61155387), (-13.6999452, -9.880960476))
            Line((-13.6999452, -9.880960476), (-13.6999452, -12.6999492))
            ThreePointArc((-13.6999452, -12.6999492), (-13.407053153, -13.407053153), (-12.6999492, -13.6999452))
        make_face(mode=Mode.SUBTRACT)
        with BuildLine():
            Line((13.6999452, -12.6999492), (13.6999452, -9.880960476))
            ThreePointArc((13.6999452, -9.880960476), (13.58835333, -9.61155387), (13.318946724, -9.499962))
            Line((13.318946724, -9.499962), (9.87996048, -9.499962))
            ThreePointArc((9.87996048, -9.499962), (9.611260978, -9.611260978), (9.499962, -9.87996048))
            Line((9.499962, -9.87996048), (9.499962, -13.318946724))
            ThreePointArc((9.499962, -13.318946724), (9.61155387, -13.58835333), (9.880960476, -13.6999452))
            Line((9.880960476, -13.6999452), (12.6999492, -13.6999452))
            ThreePointArc((12.6999492, -13.6999452), (13.407053153, -13.407053153), (13.6999452, -12.6999492))
        make_face(mode=Mode.SUBTRACT)
        with BuildLine():
            Line((9.87996048, 9.499962), (13.318946724, 9.499962))
            ThreePointArc((13.318946724, 9.499962), (13.58835333, 9.61155387), (13.6999452, 9.880960476))
            Line((13.6999452, 9.880960476), (13.6999452, 12.6999492))
            ThreePointArc((13.6999452, 12.6999492), (13.407053153, 13.407053153), (12.6999492, 13.6999452))
            Line((12.6999492, 13.6999452), (9.880960476, 13.6999452))
            ThreePointArc((9.880960476, 13.6999452), (9.61155387, 13.58835333), (9.499962, 13.318946724))
            Line((9.499962, 13.318946724), (9.499962, 9.87996048))
            ThreePointArc((9.499962, 9.87996048), (9.611260978, 9.611260978), (9.87996048, 9.499962))
        make_face(mode=Mode.SUBTRACT)
        with BuildLine():
            Line((-13.6999452, 12.6999492), (-13.6999452, 9.880960476))
            ThreePointArc((-13.6999452, 9.880960476), (-13.58835333, 9.61155387), (-13.318946724, 9.499962))
            Line((-13.318946724, 9.499962), (-9.87996048, 9.499962))
            ThreePointArc((-9.87996048, 9.499962), (-9.611260978, 9.611260978), (-9.499962, 9.87996048))
            Line((-9.499962, 9.87996048), (-9.499962, 13.318946724))
            ThreePointArc((-9.499962, 13.318946724), (-9.61155387, 13.58835333), (-9.880960476, 13.6999452))
            Line((-9.880960476, 13.6999452), (-12.6999492, 13.6999452))
            ThreePointArc((-12.6999492, 13.6999452), (-13.407053153, 13.407053153), (-13.6999452, 12.6999492))
        make_face(mode=Mode.SUBTRACT)
    extrude(amount=BOSS_EXTRUDE1_DEPTH, both=True)


solid = part.part
